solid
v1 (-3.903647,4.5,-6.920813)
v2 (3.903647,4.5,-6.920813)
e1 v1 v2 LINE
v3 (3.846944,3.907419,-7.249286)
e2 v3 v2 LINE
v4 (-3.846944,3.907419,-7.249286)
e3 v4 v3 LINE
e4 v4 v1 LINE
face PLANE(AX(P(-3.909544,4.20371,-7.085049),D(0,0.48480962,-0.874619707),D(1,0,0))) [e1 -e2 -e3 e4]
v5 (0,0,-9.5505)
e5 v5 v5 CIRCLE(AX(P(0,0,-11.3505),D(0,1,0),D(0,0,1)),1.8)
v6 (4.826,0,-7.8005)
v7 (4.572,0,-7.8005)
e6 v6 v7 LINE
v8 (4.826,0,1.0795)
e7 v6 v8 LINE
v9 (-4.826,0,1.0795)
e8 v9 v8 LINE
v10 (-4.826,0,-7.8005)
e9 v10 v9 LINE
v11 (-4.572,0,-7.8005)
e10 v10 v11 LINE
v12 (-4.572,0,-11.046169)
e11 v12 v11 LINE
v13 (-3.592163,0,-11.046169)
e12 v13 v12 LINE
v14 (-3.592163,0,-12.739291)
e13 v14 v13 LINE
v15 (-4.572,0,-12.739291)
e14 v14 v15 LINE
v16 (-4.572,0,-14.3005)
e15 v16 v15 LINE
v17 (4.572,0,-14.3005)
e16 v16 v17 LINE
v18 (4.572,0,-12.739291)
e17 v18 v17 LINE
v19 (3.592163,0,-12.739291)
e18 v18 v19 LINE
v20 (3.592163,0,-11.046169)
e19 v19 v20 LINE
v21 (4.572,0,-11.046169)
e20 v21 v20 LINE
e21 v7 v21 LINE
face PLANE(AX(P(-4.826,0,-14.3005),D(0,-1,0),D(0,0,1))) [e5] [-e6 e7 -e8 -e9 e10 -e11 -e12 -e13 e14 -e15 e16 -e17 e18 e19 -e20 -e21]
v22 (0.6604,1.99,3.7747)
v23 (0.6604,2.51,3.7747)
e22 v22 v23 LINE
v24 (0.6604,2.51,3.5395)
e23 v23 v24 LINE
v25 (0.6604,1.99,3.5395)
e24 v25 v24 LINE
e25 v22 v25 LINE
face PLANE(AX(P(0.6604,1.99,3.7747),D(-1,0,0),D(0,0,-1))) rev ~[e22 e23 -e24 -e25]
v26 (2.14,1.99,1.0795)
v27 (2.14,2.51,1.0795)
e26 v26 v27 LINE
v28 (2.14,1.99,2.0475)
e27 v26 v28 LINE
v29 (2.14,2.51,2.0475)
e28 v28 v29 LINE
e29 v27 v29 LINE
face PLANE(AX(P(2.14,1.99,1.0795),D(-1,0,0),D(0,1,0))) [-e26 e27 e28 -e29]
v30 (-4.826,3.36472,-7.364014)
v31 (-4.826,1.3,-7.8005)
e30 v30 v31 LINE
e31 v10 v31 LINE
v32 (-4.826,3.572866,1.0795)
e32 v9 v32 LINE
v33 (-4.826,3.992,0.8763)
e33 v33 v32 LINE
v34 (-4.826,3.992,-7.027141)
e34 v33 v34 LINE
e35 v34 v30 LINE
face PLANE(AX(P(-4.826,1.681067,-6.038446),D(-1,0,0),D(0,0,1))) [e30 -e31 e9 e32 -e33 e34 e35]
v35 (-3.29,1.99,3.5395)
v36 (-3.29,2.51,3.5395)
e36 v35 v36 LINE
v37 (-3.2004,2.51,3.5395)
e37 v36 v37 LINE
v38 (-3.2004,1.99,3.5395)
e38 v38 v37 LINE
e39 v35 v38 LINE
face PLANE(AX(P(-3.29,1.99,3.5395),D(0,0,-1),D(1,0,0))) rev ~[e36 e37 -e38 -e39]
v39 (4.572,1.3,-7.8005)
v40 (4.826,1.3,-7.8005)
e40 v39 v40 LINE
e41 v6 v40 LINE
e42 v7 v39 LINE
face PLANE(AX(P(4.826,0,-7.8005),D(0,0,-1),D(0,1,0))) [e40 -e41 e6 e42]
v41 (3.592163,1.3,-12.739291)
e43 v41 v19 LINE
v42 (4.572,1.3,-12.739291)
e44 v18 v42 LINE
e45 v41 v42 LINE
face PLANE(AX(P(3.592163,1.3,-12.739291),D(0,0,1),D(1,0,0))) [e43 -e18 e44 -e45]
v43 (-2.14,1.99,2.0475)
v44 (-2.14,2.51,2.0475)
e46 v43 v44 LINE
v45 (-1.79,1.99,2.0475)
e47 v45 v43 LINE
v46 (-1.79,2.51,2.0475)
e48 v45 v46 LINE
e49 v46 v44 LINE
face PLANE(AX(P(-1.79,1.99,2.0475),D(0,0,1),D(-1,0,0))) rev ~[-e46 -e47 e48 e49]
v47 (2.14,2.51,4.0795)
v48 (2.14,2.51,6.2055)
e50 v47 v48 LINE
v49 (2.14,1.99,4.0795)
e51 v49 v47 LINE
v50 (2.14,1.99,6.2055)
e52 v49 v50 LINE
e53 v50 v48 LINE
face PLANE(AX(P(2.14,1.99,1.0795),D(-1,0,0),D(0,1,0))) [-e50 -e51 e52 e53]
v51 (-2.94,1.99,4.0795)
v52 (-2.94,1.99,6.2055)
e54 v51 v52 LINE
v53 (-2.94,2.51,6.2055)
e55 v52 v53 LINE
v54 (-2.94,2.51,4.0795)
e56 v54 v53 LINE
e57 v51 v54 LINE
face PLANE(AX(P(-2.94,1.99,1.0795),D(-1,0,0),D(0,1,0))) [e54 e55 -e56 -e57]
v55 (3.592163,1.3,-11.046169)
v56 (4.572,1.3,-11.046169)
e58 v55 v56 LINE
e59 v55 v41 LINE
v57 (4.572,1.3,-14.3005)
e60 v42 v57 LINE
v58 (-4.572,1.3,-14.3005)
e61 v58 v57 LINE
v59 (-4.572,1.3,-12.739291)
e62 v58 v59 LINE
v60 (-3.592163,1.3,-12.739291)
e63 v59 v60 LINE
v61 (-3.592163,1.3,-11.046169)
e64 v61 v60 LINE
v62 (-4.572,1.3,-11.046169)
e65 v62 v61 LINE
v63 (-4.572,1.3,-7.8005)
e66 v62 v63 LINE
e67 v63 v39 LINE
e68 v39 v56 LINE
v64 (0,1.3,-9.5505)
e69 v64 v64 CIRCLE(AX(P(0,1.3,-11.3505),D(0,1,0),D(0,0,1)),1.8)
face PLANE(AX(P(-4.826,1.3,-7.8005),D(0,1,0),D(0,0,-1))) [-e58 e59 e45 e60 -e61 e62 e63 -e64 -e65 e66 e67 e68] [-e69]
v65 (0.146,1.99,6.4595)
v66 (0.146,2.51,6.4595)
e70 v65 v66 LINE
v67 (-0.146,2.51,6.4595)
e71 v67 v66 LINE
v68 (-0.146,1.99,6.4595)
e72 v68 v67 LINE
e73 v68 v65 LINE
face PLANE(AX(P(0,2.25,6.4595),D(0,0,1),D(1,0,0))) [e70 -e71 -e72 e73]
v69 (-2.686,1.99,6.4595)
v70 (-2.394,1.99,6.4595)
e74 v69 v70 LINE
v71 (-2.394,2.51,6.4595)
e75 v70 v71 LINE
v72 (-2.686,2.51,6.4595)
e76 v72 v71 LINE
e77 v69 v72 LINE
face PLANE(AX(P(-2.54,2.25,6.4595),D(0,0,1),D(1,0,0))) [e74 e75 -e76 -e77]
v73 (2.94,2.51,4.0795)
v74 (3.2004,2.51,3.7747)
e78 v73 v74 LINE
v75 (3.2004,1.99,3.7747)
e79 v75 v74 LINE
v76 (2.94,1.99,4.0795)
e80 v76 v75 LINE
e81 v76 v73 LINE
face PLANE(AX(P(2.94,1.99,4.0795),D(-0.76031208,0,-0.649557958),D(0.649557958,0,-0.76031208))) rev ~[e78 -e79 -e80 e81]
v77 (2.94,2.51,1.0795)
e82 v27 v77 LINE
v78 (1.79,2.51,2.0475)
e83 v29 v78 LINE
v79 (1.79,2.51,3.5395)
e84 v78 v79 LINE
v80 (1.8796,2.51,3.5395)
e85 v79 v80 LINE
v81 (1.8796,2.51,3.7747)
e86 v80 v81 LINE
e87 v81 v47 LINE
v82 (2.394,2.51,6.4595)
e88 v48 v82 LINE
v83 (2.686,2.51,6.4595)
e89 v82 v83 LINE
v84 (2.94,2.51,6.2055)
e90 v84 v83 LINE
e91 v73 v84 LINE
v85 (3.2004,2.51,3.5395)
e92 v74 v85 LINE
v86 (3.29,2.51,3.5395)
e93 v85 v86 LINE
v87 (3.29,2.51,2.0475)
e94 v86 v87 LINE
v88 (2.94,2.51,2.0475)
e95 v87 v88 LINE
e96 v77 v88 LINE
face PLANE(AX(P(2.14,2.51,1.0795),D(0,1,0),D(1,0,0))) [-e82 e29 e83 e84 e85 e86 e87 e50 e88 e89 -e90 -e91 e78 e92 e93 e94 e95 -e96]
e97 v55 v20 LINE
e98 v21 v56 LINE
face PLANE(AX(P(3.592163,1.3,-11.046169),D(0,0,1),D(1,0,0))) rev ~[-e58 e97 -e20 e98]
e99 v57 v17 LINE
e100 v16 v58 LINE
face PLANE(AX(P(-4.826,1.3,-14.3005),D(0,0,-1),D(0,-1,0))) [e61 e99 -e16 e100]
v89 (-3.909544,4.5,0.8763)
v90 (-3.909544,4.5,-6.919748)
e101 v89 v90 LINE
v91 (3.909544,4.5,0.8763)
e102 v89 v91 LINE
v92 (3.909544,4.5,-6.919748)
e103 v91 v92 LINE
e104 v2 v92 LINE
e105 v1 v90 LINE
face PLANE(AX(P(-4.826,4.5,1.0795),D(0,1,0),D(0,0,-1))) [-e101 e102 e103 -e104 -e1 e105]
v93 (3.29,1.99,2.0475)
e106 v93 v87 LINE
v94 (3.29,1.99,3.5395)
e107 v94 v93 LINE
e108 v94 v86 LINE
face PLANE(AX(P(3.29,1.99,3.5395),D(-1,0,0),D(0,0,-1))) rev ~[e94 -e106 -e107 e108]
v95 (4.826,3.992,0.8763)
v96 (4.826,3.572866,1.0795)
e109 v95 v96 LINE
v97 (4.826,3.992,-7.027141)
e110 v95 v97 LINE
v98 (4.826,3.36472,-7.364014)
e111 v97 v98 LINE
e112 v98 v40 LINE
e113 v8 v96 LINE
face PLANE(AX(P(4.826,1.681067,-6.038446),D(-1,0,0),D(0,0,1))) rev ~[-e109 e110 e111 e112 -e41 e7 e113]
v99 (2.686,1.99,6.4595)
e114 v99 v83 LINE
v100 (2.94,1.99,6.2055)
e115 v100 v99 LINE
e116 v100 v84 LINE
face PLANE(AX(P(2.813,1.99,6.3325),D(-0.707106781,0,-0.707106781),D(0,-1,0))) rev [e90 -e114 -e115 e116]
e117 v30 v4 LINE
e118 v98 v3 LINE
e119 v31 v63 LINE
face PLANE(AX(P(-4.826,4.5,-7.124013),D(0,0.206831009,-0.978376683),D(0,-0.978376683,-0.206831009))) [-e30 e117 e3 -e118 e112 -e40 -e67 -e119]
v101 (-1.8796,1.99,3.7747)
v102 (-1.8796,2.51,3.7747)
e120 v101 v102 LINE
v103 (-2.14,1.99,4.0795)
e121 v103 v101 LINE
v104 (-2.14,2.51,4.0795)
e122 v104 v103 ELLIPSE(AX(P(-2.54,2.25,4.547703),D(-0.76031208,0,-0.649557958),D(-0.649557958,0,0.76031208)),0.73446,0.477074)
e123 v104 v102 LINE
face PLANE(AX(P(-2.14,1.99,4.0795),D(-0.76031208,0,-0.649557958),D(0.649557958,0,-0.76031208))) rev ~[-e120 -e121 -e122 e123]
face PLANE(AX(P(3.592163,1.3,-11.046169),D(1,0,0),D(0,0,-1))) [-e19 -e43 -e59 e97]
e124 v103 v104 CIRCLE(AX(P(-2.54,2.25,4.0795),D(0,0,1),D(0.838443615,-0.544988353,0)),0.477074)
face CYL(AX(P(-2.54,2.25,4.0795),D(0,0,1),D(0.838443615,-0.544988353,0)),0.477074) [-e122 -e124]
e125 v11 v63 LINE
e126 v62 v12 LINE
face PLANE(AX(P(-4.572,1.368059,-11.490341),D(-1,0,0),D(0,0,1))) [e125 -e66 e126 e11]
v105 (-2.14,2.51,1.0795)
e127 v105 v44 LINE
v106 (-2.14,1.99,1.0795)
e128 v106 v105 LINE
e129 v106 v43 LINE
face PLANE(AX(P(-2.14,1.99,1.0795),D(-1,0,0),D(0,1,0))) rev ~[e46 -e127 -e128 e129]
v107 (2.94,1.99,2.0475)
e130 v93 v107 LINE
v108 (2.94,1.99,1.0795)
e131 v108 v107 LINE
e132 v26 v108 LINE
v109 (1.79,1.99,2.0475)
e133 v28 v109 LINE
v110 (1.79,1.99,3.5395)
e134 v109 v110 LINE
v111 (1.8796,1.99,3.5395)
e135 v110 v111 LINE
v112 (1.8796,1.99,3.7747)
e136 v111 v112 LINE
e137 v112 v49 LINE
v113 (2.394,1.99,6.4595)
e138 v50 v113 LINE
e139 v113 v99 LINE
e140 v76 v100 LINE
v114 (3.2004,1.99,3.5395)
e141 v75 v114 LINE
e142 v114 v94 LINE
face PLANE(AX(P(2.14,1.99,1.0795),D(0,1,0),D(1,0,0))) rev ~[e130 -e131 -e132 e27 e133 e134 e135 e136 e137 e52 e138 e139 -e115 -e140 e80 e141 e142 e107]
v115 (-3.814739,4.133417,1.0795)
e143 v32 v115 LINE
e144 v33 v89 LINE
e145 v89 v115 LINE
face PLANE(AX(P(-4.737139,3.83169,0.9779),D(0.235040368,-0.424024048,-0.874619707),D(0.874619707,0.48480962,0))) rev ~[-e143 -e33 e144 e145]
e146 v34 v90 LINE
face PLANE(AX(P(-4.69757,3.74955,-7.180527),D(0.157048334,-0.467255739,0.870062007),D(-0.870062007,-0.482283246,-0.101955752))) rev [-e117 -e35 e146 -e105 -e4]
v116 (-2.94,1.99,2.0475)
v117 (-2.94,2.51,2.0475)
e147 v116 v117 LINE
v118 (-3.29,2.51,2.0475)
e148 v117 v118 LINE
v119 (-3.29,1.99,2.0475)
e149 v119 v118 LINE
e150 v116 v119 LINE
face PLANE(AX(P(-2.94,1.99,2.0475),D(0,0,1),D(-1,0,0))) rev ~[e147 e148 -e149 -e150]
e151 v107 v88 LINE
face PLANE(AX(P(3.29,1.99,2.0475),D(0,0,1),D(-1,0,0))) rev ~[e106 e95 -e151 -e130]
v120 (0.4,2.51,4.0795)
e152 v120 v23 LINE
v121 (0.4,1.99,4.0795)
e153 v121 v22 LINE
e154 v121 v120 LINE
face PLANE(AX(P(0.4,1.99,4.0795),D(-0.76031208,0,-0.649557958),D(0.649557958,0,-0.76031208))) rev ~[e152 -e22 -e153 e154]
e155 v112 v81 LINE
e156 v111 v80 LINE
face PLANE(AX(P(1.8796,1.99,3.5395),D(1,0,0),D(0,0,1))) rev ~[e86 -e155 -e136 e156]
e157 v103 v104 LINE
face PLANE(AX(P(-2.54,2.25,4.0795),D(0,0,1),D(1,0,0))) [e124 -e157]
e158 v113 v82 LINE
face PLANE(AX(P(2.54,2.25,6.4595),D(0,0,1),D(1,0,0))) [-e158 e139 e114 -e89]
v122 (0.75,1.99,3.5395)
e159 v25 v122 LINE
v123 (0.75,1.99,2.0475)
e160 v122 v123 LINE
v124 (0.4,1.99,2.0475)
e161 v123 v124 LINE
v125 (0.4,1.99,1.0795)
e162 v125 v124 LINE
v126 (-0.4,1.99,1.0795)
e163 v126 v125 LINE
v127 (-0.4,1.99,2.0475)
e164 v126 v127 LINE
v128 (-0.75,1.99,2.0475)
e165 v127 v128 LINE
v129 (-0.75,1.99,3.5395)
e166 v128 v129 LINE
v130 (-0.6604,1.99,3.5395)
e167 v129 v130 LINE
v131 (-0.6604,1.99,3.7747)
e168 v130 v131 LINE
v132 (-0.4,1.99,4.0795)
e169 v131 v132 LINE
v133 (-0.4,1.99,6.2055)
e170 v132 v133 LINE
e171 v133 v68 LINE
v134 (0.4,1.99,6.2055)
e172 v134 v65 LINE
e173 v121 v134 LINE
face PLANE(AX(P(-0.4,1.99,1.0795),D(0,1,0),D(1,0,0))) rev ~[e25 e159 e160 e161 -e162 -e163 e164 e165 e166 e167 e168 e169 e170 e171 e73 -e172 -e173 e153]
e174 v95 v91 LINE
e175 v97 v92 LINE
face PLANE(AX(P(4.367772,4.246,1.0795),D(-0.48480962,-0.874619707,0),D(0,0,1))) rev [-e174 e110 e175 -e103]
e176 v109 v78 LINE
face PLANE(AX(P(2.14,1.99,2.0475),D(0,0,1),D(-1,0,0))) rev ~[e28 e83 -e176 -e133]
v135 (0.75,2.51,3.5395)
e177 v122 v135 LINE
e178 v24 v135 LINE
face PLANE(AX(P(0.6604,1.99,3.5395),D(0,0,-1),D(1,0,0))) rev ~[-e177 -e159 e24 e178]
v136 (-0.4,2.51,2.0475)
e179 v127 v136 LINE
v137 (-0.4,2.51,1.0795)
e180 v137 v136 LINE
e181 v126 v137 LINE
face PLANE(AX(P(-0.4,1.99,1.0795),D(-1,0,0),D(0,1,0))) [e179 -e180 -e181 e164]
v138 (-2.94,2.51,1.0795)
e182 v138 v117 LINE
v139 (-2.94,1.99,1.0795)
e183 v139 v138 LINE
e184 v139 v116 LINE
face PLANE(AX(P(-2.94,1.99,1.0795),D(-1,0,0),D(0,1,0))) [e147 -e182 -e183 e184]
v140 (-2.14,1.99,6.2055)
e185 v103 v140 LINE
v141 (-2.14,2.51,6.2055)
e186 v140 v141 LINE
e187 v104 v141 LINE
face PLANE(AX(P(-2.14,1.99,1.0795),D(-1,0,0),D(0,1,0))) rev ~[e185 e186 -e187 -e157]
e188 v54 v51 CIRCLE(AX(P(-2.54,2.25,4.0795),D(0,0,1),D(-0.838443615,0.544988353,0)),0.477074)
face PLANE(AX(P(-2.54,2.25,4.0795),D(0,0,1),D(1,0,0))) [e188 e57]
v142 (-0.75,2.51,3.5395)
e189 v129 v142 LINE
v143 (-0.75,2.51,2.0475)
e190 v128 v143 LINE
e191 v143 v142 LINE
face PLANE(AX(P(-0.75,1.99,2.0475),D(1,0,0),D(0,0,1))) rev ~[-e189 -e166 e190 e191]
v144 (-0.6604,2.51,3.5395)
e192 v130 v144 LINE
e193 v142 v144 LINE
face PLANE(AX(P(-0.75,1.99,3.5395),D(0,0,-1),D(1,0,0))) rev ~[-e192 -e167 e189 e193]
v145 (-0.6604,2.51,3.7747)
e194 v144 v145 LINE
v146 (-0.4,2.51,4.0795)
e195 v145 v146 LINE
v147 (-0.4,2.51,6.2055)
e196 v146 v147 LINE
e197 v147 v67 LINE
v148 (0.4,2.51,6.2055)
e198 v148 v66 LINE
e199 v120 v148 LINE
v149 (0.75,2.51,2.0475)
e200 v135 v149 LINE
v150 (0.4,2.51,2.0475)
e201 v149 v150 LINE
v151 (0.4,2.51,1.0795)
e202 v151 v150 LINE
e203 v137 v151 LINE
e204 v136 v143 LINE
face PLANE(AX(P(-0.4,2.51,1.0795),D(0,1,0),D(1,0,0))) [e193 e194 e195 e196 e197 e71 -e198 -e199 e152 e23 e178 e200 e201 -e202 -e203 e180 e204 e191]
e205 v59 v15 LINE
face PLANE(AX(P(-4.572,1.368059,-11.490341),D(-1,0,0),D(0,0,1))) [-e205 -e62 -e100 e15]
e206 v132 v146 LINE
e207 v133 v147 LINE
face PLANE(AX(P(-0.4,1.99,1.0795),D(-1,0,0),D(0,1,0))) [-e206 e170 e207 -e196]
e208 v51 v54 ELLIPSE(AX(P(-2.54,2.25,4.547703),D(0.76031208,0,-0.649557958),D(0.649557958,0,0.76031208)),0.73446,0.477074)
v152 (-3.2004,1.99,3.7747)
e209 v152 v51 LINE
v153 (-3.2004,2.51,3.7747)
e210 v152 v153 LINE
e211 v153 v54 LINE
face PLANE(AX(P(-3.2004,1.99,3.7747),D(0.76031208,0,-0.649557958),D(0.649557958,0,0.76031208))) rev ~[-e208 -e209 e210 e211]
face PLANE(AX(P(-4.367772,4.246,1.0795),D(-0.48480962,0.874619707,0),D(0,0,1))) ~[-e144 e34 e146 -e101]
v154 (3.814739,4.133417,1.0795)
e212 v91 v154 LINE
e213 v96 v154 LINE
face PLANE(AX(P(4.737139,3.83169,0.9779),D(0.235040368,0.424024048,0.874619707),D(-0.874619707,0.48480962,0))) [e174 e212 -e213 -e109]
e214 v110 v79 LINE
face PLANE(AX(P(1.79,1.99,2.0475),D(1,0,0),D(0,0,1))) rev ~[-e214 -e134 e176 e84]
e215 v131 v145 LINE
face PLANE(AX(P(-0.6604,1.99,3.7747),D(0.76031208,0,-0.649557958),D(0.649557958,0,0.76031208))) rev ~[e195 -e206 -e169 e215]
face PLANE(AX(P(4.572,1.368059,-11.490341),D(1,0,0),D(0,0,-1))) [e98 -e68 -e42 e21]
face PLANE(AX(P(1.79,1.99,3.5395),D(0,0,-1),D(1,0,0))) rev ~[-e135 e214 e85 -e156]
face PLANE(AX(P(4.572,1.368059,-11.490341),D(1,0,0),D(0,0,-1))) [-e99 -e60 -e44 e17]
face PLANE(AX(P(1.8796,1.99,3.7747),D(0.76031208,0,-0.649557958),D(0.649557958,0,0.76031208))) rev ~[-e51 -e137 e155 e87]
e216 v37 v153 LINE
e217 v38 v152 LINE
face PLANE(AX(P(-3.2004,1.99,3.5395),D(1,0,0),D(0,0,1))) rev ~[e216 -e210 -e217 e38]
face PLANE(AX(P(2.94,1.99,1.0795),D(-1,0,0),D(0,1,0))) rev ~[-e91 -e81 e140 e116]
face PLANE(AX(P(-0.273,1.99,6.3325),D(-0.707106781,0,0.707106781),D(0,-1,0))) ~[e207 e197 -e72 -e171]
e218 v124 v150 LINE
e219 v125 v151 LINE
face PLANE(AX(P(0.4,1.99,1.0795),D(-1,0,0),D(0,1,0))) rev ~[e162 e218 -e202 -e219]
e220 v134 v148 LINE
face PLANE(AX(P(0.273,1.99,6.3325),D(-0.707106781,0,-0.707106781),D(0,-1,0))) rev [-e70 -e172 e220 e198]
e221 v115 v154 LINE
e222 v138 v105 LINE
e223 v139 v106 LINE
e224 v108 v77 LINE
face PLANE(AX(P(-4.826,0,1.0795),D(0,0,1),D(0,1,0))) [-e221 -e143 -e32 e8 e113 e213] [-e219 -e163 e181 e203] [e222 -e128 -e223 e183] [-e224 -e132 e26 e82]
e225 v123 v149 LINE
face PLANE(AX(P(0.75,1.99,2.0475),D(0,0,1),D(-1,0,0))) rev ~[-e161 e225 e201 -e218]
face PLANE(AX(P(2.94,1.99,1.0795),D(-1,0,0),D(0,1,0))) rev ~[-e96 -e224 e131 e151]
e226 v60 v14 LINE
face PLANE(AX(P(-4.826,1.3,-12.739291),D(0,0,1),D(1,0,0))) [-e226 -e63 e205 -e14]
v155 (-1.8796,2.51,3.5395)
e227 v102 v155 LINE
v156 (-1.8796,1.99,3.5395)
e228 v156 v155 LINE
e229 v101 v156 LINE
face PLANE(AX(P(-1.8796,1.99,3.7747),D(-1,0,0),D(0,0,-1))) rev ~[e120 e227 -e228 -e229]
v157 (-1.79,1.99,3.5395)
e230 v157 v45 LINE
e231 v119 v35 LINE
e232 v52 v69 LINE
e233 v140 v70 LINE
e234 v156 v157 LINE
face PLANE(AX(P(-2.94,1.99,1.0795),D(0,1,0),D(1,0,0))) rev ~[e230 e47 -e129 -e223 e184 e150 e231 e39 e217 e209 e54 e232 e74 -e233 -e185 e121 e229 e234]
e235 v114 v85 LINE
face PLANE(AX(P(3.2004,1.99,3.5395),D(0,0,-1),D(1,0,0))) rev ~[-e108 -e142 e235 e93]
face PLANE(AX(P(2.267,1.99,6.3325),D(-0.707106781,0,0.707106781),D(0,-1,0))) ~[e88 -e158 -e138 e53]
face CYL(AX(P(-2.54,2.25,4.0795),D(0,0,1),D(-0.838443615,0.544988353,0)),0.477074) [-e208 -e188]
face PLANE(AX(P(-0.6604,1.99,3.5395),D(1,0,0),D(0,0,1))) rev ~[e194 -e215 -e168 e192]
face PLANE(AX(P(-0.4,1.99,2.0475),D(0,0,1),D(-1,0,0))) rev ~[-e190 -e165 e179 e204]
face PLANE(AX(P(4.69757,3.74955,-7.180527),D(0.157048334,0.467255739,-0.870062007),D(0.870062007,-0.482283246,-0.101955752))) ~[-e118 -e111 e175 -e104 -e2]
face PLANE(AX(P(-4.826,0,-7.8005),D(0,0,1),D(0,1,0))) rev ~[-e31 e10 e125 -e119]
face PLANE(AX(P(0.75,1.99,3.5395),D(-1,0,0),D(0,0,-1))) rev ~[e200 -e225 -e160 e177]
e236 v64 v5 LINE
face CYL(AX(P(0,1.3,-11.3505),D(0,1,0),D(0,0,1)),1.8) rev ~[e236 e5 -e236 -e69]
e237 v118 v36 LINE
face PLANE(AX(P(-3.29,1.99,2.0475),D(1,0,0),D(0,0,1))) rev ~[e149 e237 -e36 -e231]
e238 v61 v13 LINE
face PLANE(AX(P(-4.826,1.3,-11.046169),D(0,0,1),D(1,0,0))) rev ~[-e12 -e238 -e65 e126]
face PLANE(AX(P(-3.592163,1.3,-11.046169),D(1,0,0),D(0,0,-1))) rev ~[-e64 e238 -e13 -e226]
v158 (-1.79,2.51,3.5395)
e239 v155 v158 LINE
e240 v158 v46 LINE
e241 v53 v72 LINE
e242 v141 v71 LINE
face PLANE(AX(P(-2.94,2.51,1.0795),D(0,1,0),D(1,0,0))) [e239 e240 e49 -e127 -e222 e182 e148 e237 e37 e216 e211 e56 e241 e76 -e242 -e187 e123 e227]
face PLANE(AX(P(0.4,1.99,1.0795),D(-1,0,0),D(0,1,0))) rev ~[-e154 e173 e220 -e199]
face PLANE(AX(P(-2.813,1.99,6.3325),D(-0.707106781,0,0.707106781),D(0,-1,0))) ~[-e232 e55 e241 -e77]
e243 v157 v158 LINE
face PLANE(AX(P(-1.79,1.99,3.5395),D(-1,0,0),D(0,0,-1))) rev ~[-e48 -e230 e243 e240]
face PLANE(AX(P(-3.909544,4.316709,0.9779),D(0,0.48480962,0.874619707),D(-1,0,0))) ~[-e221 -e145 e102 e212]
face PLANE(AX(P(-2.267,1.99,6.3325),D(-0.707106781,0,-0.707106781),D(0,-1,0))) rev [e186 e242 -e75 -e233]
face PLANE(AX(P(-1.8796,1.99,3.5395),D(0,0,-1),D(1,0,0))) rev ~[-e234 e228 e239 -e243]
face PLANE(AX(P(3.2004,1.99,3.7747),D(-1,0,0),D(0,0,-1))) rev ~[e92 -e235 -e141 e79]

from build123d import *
from OCP.BRepFilletAPI import BRepFilletAPI_MakeChamfer

# Parameters (mm, degrees)
EXTRUDE1_DEPTH      = 4.826
EXTRUDE1_DEPTH_BACK = 4.826
SKETCH10_R          = 1.8
SKETCH10_W          = 1.233836604
SKETCH10_H          = 1.6931216
EXTRUDE5_DEPTH      = 16.428369203
SKETCH6_W           = 0.8
SKETCH6_H           = 0.52
EXTRUDE6_DEPTH      = 5.38
EXTRUDE7_START      = -0.52
EXTRUDE7_DEPTH      = 0.52
CHAMFER1_SIZE       = 0.254
SKETCH12_W          = 7.379682426
SKETCH12_H          = 2.736118788
EXTRUDE8_DEPTH      = 0.254
SKETCH13_W          = 7.379682426
SKETCH13_H          = 2.736118788
EXTRUDE9_DEPTH      = 0.254
CHAMFER2_SIZE       = 0.508
CHAMFER2_SIZE2      = 0.91645626
CHAMFER3_SIZE       = 0.2032
CHAMFER3_SIZE2      = 0.366582504
CHAMFER3_SIZE2_2    = 0.605677555
CHAMFER3_SIZE2_3    = 0.557834937
EXTRUDE10_DEPTH     = 1.016


with BuildPart() as part:
    # Sketch2 → Extrude1 (new, two sides: drawn at the far end of the back side and taken through both)
    with BuildSketch(Plane(origin=(0, 0, 0), x_dir=(0, 0, -1), z_dir=(1, 0, 0)).offset(-EXTRUDE1_DEPTH_BACK)):
        Polygon((14.3005, 0), (-1.0795, 0), (-1.0795, 4.5), (7.124012877, 4.5), (7.8005, 1.3), (14.3005, 1.3), align=None)
    extrude(amount=EXTRUDE1_DEPTH + EXTRUDE1_DEPTH_BACK)

    # Sketch10 → Extrude5 (cut, through all)
    with BuildSketch(Plane(origin=(0, 1.3, 0), x_dir=(1, 0, 0), z_dir=(0, 1, 0))):
        with Locations(Location((0, 11.3505, 0), (0, 0, 270))):
            Circle(SKETCH10_R)
        with Locations((-4.209081698, 11.892729701)):
            Rectangle(SKETCH10_W, SKETCH10_H)
        with Locations((4.209081698, 11.892729701)):
            Rectangle(SKETCH10_W, SKETCH10_H)
    extrude(amount=-EXTRUDE5_DEPTH, mode=Mode.SUBTRACT)

    # Sketch6 → Extrude6 (add)
    with BuildSketch(Plane.XY.offset(1.0795)):
        with Locations((2.54, 2.25)):
            Rectangle(SKETCH6_W, SKETCH6_H)
        with Locations((-2.54, 2.25)):
            Rectangle(SKETCH6_W, SKETCH6_H)
        with Locations((0, 2.25)):
            Rectangle(SKETCH6_W, SKETCH6_H)
    extrude(amount=EXTRUDE6_DEPTH)

    # Sketch11 → Extrude7 (add)
    with BuildSketch(Plane(origin=(0, 2.51, 0), x_dir=(1, 0, 0), z_dir=(0, 1, 0)).offset(EXTRUDE7_START)):
        Polygon((-2.94, -2.0475), (-3.29, -2.0475), (-3.29, -3.5395), (-3.2004, -3.5395), (-3.2004, -3.7747), (-2.94, -4.0795), align=None)
        Polygon((-1.79, -2.0475), (-2.14, -2.0475), (-2.14, -4.0795), (-1.8796, -3.7747), (-1.8796, -3.5395), (-1.79, -3.5395), align=None)
        Polygon((-0.4, -2.0475), (-0.75, -2.0475), (-0.75, -3.5395), (-0.6604, -3.5395), (-0.6604, -3.7747), (-0.4, -4.0795), align=None)
        Polygon((0.75, -2.0475), (0.4, -2.0475), (0.4, -4.0795), (0.6604, -3.7747), (0.6604, -3.5395), (0.75, -3.5395), align=None)
        Polygon((2.14, -2.0475), (1.79, -2.0475), (1.79, -3.5395), (1.8796, -3.5395), (1.8796, -3.7747), (2.14, -4.0795), align=None)
        Polygon((3.29, -2.0475), (2.94, -2.0475), (2.94, -4.0795), (3.2004, -3.7747), (3.2004, -3.5395), (3.29, -3.5395), align=None)
    extrude(amount=EXTRUDE7_DEPTH)

    # Chamfer1
    chamfer1_edges = [part.edges().sort_by_distance(p)[0] for p in [
        (-2.14, 2.25, 6.4595),
        (-2.94, 2.25, 6.4595),
        (2.94, 2.25, 6.4595),
        (2.14, 2.25, 6.4595),
        (0.4, 2.25, 6.4595),
        (-0.4, 2.25, 6.4595),
    ]]
    chamfer(chamfer1_edges, length=CHAMFER1_SIZE)

    # Sketch12 → Extrude8 (cut)
    with BuildSketch(Plane.ZY.offset(4.826)):
        with Locations((-11.490341213, 1.368059394)):
            Rectangle(SKETCH12_W, SKETCH12_H)
    extrude(amount=-EXTRUDE8_DEPTH, mode=Mode.SUBTRACT)

    # Sketch13 → Extrude9 (cut)
    with BuildSketch(Plane(origin=(4.826, 0, 0), x_dir=(0, 0, -1), z_dir=(1, 0, 0))):
        with Locations((11.490341213, 1.368059394)):
            Rectangle(SKETCH13_W, SKETCH13_H)
    extrude(amount=-EXTRUDE9_DEPTH, mode=Mode.SUBTRACT)

    # Chamfer2: one chamfer whose edges measure the first distance from different faces: ONE call of the kernel's chamfer builder (chamfer() names one face for all edges)
    chamfer2_edges_1 = [part.edges().sort_by_distance(p)[0] for p in [
        (-4.826, 4.5, -3.022256439),
    ]]
    chamfer2_side_1 = [part.faces().sort_by_distance(p)[0] for p in [
        (-4.826, 2.217055195, -3.243165334),
    ]]
    chamfer2_edges_2 = [part.edges().sort_by_distance(p)[0] for p in [
        (4.826, 4.5, -3.022256439),
    ]]
    chamfer2_side_2 = [part.faces().sort_by_distance(p)[0] for p in [
        (4.826, 2.217055195, -3.243165334),
    ]]
    chamfer2 = BRepFilletAPI_MakeChamfer(part.part.solid().wrapped)
    for e in chamfer2_edges_1:
        chamfer2.Add(CHAMFER2_SIZE, CHAMFER2_SIZE2, e.wrapped, chamfer2_side_1[0].wrapped)  # the first distance lies on this face
    for e in chamfer2_edges_2:
        chamfer2.Add(CHAMFER2_SIZE, CHAMFER2_SIZE2, e.wrapped, chamfer2_side_2[0].wrapped)  # the first distance lies on this face
    add(Compound.cast(chamfer2.Shape()), mode=Mode.REPLACE)

    # Chamfer3: one chamfer whose edges measure the first distance from different faces: ONE call of the kernel's chamfer builder (chamfer() names one face for all edges)
    chamfer3_edges_1 = [part.edges().sort_by_distance(p)[0] for p in [
        (0, 4.5, 1.0795),
    ]]
    chamfer3_side_1 = [part.faces().sort_by_distance(p)[0] for p in [
        (0, 4.5, -3.022256439),
    ]]
    chamfer3_edges_2 = [part.edges().sort_by_distance(p)[0] for p in [
        (-4.36777187, 4.246, 1.0795),
    ]]
    chamfer3_side_2 = [part.faces().sort_by_distance(p)[0] for p in [
        (-4.368765147, 4.245449417, -3.049162718),
    ]]
    chamfer3_edges_3 = [part.edges().sort_by_distance(p)[0] for p in [
        (4.36777187, 4.246, 1.0795),
    ]]
    chamfer3_side_3 = [part.faces().sort_by_distance(p)[0] for p in [
        (4.368765147, 4.245449417, -3.049162718),
    ]]
    chamfer3_edges_4 = [part.edges().sort_by_distance(p)[0] for p in [
        (0, 4.5, -7.124012877),
    ]]
    chamfer3_side_4 = [part.faces().sort_by_distance(p)[0] for p in [
        (0, 4.5, -3.022256439),
    ]]
    chamfer3_edges_5 = [part.edges().sort_by_distance(p)[0] for p in [
        (-4.36777187, 4.246, -7.177709043),
    ]]
    chamfer3_side_5 = [part.faces().sort_by_distance(p)[0] for p in [
        (-4.368765147, 4.245449417, -3.049162718),
    ]]
    chamfer3_edges_6 = [part.edges().sort_by_distance(p)[0] for p in [
        (4.36777187, 4.246, -7.177709043),
    ]]
    chamfer3_side_6 = [part.faces().sort_by_distance(p)[0] for p in [
        (4.368765147, 4.245449417, -3.049162718),
    ]]
    chamfer3 = BRepFilletAPI_MakeChamfer(part.part.solid().wrapped)
    for e in chamfer3_edges_1:
        chamfer3.Add(CHAMFER3_SIZE, CHAMFER3_SIZE2, e.wrapped, chamfer3_side_1[0].wrapped)  # the first distance lies on this face
    for e in chamfer3_edges_2:
        chamfer3.Add(CHAMFER3_SIZE, CHAMFER3_SIZE2, e.wrapped, chamfer3_side_2[0].wrapped)  # the first distance lies on this face
    for e in chamfer3_edges_3:
        chamfer3.Add(CHAMFER3_SIZE, CHAMFER3_SIZE2, e.wrapped, chamfer3_side_3[0].wrapped)  # the first distance lies on this face
    for e in chamfer3_edges_4:
        chamfer3.Add(CHAMFER3_SIZE, CHAMFER3_SIZE2_2, e.wrapped, chamfer3_side_4[0].wrapped)  # the first distance lies on this face
    for e in chamfer3_edges_5:
        chamfer3.Add(CHAMFER3_SIZE, CHAMFER3_SIZE2_3, e.wrapped, chamfer3_side_5[0].wrapped)  # the first distance lies on this face
    for e in chamfer3_edges_6:
        chamfer3.Add(CHAMFER3_SIZE, CHAMFER3_SIZE2_3, e.wrapped, chamfer3_side_6[0].wrapped)  # the first distance lies on this face
    add(Compound.cast(chamfer3.Shape()), mode=Mode.REPLACE)

    # Sketch15 → Extrude10 (add)
    with BuildSketch(Plane.XY.offset(4.0795)):
        with BuildLine():
            Line((-2.14, 2.51), (-2.94, 2.51))
            ThreePointArc((-2.94, 2.51), (-3.017074418, 2.25), (-2.94, 1.99))
            Line((-2.94, 1.99), (-2.14, 1.99))
            ThreePointArc((-2.14, 1.99), (-2.062925582, 2.25), (-2.14, 2.51))
        make_face()
    extrude(amount=-EXTRUDE10_DEPTH)


solid = part.part
